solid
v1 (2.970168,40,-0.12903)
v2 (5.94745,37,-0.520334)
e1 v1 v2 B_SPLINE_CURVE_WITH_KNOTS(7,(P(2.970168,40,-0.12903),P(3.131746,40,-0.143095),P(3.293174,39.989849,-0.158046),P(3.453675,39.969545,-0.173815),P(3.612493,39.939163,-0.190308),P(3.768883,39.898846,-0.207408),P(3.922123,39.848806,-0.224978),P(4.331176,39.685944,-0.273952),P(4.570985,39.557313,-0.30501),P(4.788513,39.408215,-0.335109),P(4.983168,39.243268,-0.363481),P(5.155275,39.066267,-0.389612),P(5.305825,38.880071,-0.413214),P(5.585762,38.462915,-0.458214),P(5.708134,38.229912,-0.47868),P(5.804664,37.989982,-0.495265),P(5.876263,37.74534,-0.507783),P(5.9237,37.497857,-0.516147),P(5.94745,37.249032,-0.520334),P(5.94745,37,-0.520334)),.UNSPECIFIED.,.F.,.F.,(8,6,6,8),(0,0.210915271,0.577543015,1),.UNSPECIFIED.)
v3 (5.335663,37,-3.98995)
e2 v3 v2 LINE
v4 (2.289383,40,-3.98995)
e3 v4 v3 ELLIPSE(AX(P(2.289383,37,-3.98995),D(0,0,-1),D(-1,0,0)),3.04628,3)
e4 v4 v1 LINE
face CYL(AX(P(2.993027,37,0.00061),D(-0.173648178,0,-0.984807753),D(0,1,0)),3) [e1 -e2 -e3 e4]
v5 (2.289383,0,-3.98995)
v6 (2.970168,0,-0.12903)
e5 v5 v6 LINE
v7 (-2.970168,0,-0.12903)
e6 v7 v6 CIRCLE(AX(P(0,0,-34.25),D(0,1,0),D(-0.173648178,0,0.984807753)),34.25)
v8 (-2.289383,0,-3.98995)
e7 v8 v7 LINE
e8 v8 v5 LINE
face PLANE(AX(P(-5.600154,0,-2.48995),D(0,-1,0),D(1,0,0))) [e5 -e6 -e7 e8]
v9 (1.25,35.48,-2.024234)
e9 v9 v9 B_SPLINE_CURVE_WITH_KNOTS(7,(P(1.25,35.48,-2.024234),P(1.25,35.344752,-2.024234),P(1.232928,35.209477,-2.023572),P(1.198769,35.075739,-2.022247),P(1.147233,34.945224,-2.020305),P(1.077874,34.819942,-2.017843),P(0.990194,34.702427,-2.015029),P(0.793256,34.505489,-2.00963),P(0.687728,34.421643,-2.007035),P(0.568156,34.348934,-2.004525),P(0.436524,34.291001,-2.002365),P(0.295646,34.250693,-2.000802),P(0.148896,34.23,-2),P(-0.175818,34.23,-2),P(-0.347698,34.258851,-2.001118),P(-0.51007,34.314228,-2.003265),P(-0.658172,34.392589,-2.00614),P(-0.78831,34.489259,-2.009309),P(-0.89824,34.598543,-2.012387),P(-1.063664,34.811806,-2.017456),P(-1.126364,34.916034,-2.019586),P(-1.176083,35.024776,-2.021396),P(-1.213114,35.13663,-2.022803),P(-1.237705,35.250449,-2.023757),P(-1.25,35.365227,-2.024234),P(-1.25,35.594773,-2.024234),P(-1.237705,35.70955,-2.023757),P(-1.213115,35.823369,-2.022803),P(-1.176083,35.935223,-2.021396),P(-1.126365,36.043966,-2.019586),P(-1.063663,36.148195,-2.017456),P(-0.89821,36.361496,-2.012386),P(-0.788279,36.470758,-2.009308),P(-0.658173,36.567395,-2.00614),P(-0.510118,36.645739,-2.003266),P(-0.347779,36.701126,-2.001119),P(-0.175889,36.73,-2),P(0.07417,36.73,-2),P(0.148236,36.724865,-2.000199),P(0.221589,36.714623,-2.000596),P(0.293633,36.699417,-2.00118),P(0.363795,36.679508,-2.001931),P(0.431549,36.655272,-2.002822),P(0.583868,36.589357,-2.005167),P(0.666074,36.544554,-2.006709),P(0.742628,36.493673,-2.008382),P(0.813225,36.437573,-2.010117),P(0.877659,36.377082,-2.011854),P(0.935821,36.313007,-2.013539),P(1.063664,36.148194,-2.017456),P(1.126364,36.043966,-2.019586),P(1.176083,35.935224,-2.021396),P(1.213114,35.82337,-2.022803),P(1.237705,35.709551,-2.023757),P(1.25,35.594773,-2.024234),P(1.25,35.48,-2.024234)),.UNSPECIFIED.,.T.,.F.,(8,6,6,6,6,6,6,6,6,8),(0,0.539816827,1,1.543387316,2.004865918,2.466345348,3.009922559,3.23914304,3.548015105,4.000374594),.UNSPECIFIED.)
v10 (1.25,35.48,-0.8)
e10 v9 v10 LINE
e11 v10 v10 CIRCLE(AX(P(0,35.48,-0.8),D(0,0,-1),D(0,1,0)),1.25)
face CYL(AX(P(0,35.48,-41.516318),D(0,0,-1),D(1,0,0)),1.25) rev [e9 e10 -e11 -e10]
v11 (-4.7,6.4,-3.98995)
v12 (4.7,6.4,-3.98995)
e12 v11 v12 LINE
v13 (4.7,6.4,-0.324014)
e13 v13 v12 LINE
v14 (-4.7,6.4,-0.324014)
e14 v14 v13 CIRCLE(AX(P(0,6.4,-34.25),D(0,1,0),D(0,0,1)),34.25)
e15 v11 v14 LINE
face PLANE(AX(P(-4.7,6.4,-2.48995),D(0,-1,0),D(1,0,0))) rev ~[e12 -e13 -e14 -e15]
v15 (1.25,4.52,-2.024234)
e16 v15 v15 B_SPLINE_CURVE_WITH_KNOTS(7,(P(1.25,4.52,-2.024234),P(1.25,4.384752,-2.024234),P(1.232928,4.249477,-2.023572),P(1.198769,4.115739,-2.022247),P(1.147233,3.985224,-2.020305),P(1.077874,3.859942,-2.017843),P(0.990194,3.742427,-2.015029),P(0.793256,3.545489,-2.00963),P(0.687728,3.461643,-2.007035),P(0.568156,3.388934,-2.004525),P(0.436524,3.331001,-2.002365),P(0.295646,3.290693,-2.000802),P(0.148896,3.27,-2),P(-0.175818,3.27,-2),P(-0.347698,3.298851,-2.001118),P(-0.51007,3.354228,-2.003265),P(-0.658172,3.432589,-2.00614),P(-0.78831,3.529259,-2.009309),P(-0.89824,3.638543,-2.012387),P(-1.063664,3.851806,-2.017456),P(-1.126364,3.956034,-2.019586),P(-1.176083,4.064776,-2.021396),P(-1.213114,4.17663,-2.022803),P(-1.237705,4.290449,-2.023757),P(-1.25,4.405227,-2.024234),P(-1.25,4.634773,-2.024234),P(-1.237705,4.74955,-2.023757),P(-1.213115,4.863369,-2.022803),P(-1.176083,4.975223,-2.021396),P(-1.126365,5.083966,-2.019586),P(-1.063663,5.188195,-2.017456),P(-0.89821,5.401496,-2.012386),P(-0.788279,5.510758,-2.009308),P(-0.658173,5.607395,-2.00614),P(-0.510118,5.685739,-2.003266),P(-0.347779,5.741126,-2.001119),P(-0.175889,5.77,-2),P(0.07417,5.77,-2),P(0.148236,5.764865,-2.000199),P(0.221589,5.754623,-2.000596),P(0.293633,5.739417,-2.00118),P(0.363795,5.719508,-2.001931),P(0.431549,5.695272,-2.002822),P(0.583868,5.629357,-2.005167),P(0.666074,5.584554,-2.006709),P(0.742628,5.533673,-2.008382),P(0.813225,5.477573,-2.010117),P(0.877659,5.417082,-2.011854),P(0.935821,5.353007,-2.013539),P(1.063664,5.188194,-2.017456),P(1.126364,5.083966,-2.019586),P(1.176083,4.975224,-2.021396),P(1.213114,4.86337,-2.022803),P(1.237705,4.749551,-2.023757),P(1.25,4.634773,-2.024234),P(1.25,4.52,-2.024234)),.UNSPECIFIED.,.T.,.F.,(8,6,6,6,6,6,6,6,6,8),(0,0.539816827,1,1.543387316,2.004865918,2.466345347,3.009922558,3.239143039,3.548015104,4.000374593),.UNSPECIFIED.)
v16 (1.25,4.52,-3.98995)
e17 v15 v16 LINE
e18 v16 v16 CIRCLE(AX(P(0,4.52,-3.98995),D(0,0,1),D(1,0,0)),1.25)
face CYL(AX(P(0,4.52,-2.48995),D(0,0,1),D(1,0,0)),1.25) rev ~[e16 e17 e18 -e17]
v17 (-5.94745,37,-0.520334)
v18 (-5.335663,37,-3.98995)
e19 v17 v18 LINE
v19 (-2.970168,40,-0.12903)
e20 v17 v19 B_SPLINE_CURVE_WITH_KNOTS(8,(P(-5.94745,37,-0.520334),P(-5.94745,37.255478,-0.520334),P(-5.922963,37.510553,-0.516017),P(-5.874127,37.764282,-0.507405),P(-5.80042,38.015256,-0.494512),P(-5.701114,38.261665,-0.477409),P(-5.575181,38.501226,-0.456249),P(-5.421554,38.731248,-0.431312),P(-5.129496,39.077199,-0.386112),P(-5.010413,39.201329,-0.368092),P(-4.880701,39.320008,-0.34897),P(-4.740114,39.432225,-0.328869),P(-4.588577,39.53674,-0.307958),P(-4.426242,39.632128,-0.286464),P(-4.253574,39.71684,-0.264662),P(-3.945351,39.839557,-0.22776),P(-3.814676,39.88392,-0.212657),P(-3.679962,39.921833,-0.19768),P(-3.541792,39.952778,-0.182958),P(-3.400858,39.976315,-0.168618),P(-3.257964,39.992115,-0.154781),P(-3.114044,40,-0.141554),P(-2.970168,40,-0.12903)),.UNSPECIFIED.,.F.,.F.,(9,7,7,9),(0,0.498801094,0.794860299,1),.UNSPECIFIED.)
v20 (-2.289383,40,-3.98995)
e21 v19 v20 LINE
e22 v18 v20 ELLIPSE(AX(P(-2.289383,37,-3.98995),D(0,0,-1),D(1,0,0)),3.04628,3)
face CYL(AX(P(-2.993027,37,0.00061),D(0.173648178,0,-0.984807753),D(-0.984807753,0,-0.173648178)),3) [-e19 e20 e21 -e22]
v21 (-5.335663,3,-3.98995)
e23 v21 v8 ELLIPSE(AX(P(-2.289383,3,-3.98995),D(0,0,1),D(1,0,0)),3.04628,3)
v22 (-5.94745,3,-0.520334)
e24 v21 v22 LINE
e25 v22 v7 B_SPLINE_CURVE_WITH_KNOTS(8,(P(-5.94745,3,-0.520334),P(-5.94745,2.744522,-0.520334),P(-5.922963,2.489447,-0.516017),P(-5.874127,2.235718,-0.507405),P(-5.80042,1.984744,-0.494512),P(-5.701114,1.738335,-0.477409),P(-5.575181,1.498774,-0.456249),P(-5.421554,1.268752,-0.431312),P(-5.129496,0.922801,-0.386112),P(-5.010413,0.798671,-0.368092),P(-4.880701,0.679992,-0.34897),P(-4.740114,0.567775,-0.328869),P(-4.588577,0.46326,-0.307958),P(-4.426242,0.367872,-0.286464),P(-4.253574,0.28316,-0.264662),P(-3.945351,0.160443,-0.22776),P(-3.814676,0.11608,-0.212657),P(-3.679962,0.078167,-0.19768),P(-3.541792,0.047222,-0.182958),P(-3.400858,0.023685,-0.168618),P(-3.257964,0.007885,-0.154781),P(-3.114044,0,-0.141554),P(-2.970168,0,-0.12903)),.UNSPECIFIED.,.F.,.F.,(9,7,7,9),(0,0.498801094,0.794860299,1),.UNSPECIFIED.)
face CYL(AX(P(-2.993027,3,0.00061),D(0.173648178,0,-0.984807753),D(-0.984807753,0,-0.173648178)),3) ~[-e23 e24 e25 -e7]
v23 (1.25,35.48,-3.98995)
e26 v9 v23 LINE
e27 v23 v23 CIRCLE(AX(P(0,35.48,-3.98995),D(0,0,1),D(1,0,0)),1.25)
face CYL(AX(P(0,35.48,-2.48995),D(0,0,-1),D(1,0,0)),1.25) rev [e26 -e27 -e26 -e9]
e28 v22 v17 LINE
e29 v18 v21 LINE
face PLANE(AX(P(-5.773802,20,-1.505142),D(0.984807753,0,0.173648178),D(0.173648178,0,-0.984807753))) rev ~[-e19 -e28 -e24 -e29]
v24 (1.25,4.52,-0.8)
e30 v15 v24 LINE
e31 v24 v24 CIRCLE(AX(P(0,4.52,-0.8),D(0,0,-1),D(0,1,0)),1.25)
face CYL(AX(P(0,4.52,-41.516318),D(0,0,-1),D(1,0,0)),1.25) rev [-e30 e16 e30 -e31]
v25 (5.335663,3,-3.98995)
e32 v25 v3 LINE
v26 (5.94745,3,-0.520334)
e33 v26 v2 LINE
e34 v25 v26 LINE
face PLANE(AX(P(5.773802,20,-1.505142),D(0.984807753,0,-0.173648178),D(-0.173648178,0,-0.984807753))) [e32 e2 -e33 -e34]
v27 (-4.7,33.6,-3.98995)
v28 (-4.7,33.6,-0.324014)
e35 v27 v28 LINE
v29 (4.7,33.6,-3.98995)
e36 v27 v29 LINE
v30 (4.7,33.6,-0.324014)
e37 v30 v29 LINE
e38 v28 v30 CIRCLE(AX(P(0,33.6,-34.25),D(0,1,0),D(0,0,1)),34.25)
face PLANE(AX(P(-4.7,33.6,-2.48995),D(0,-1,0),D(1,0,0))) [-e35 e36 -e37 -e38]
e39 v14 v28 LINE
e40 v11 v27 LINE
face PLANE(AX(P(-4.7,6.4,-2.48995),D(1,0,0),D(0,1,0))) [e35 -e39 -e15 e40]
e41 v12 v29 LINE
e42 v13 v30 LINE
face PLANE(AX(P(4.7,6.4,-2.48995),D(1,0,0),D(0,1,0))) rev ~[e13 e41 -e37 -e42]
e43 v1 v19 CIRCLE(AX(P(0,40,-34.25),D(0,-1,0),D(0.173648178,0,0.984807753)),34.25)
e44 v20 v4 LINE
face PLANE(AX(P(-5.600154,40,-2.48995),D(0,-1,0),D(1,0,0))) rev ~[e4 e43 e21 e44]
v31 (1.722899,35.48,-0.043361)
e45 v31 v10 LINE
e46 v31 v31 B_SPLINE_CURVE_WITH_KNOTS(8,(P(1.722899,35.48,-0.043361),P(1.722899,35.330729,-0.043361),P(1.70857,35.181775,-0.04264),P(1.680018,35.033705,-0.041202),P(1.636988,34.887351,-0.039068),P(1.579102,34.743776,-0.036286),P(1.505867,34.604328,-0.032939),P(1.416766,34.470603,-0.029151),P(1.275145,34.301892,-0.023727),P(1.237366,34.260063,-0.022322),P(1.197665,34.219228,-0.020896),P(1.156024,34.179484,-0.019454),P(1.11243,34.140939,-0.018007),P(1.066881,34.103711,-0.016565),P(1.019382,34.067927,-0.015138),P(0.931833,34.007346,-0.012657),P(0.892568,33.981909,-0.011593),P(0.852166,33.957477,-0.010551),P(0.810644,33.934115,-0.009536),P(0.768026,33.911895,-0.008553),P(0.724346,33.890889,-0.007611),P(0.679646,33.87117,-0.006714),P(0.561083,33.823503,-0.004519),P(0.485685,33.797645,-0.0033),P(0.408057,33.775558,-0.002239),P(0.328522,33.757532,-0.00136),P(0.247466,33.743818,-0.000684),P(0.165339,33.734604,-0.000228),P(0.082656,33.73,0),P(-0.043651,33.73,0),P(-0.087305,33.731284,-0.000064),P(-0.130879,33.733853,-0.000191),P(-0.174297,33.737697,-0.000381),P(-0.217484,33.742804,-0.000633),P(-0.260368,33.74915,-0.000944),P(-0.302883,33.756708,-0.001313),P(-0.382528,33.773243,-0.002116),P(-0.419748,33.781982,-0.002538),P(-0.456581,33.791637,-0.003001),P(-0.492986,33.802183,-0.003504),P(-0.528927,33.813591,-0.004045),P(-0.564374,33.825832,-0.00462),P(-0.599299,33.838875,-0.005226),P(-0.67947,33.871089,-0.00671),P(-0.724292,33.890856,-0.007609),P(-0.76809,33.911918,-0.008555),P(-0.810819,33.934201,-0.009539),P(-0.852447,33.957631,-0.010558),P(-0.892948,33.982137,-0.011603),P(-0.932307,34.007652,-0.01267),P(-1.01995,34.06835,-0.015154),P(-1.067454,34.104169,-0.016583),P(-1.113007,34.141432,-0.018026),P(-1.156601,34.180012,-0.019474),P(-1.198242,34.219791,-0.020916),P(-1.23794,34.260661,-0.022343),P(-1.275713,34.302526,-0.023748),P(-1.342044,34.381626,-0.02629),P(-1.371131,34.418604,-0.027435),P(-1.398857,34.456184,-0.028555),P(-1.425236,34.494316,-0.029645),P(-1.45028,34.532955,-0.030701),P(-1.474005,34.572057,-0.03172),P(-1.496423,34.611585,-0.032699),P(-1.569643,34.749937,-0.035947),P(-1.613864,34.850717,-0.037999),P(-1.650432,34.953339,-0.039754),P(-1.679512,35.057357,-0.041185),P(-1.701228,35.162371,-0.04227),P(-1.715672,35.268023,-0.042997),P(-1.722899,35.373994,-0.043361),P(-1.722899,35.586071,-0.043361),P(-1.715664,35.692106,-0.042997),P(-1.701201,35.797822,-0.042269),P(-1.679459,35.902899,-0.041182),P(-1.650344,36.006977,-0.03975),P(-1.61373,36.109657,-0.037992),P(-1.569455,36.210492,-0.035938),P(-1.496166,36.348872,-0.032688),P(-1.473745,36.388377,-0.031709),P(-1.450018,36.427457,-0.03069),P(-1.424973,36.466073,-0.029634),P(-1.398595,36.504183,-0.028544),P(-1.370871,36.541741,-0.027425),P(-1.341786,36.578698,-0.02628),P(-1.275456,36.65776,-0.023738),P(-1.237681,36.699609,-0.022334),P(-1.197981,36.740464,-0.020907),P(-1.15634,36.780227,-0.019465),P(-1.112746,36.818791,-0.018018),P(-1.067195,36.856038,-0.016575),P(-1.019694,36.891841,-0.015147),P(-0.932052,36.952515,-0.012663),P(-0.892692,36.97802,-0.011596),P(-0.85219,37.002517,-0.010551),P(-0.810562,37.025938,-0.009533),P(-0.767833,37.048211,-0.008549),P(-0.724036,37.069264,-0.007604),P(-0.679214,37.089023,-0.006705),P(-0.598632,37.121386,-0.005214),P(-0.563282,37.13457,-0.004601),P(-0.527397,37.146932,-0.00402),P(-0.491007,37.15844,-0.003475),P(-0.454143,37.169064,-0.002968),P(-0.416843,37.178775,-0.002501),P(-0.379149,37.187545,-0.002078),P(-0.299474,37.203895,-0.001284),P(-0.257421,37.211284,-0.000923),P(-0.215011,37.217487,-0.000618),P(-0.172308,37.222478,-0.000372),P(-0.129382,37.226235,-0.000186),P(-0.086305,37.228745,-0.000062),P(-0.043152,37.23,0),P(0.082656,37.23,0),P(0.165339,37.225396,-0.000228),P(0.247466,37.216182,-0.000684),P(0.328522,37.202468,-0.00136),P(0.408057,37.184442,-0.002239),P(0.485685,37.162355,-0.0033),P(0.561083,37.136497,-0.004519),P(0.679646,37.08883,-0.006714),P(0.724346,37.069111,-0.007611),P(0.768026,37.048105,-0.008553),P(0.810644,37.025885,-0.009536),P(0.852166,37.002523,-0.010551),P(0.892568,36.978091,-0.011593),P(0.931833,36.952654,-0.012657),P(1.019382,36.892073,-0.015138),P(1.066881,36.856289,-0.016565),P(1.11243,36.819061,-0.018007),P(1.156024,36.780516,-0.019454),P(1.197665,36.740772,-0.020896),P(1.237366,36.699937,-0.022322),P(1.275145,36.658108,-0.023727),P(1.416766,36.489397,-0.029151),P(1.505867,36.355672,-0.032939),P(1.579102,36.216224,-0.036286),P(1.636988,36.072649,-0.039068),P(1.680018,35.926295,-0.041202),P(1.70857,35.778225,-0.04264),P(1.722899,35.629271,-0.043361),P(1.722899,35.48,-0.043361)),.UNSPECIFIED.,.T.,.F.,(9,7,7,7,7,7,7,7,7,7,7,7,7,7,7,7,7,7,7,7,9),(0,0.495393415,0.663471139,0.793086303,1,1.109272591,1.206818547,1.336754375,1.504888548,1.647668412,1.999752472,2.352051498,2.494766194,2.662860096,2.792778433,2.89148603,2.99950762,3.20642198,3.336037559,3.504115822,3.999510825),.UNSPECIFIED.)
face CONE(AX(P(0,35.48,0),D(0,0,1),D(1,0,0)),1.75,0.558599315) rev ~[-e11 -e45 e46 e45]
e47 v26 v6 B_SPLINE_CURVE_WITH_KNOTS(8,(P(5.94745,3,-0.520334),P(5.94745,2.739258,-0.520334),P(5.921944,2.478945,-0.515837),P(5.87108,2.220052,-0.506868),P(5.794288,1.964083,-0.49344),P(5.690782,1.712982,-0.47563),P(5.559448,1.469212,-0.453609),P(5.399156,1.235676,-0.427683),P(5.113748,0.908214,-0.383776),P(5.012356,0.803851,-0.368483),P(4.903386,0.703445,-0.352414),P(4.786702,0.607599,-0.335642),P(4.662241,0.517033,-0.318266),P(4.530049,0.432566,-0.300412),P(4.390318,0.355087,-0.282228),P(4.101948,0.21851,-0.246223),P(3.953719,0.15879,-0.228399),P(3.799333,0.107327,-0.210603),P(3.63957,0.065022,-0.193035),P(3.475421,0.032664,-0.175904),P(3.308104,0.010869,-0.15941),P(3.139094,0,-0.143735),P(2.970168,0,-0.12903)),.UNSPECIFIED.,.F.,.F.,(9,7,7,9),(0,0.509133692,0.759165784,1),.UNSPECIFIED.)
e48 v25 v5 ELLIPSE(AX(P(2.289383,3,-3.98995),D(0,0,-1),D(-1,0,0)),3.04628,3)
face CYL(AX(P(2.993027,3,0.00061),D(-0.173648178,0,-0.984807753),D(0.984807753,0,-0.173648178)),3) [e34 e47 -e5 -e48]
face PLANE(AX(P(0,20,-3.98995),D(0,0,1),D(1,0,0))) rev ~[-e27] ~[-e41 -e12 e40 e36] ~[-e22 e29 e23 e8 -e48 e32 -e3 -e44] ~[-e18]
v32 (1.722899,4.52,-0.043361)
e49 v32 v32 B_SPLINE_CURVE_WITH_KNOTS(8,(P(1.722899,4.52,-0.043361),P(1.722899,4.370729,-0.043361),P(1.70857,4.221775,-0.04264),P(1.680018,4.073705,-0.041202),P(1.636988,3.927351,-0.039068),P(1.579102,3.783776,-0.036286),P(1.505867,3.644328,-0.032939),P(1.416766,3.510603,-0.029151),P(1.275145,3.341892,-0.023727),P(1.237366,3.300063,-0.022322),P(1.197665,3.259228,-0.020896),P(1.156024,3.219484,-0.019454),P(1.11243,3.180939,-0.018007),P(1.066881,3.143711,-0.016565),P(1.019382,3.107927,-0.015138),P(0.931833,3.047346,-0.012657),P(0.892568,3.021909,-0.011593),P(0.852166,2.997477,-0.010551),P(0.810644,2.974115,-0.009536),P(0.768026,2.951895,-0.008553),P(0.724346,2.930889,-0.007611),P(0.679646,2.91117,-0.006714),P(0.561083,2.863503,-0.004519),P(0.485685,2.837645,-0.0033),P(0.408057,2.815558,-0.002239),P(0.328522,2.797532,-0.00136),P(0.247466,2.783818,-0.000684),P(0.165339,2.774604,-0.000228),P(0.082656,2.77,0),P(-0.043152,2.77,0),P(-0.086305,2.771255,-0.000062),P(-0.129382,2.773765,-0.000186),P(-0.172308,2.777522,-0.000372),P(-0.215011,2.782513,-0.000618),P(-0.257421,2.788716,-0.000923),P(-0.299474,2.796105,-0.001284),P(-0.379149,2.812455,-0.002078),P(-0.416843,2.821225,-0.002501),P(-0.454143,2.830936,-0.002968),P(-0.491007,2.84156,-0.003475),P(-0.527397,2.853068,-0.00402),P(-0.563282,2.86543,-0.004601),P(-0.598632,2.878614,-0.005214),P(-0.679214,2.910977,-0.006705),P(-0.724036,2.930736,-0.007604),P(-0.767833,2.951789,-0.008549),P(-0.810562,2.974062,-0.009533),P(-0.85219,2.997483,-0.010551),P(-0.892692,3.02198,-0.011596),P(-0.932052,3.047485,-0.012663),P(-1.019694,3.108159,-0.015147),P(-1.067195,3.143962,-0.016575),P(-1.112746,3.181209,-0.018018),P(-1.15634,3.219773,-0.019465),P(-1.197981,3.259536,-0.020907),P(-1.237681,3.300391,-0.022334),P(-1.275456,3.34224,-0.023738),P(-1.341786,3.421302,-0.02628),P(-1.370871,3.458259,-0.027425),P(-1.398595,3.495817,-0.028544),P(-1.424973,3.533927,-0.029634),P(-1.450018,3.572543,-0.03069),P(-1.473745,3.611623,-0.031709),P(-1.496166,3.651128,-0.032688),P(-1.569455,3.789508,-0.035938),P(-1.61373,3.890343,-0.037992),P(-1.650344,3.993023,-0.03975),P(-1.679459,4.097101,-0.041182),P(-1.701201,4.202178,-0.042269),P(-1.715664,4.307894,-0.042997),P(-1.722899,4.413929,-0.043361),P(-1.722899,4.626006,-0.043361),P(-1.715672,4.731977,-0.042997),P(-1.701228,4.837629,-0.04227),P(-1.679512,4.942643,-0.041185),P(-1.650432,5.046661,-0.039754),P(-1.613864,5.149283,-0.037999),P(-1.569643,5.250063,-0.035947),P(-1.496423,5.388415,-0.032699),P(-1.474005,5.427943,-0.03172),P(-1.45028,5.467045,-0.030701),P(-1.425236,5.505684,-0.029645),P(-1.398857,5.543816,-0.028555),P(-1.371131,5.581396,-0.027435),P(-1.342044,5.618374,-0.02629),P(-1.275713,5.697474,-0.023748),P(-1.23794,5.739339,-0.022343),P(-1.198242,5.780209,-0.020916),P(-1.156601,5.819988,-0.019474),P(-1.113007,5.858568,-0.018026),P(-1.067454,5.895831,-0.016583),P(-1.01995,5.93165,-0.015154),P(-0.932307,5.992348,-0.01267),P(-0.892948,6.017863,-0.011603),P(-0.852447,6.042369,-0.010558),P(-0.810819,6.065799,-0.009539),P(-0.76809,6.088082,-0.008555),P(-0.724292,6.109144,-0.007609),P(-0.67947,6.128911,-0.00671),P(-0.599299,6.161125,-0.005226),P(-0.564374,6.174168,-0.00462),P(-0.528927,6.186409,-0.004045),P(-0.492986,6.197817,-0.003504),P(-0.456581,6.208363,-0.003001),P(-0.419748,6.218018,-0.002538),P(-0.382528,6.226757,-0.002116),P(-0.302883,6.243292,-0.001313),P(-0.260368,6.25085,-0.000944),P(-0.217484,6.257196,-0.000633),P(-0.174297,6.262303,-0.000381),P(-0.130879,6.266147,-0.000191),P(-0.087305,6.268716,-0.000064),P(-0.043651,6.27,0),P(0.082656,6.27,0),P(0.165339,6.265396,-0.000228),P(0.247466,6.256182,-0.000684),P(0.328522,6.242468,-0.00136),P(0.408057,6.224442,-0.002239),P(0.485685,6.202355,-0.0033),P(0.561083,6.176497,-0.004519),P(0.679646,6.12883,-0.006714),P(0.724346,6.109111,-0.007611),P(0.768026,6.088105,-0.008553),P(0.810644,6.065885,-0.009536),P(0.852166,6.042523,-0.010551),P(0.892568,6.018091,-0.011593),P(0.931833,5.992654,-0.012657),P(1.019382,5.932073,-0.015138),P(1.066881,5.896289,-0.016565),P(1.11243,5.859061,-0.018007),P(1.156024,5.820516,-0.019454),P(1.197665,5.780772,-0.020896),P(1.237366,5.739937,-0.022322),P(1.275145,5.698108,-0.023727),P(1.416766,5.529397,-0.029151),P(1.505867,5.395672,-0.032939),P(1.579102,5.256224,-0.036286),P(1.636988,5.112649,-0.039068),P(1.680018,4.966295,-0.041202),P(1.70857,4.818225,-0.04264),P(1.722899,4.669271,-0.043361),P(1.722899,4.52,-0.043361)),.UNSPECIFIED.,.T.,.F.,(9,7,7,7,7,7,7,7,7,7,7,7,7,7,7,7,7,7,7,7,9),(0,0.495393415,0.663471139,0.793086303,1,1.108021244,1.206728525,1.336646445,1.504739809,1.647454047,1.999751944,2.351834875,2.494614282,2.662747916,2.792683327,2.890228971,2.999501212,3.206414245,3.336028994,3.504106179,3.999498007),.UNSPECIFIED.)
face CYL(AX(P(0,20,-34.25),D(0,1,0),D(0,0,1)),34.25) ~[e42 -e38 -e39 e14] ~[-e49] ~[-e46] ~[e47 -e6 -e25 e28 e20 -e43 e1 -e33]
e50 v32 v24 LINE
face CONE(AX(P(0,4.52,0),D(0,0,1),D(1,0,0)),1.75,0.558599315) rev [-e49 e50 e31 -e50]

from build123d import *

# Parameters (mm, degrees)
SKETCH1_W                         = 2
SKETCH1_H                         = 40
BULK_EXTRUDE_ANGLE                = 20
CONNECTOR_PASSTHRU_DEPTH          = 41.516317865
CONNECTOR_PASSTHRU_DEPTH_BACK     = 41.516317865
SKETCH2_R                         = 1.25
SKETCH2_W                         = 9.4
SKETCH2_H                         = 27.2
REAR_FLATTENING_REACH             = 42.516
SKETCH3_W                         = 11.20030746
SKETCH3_H                         = 40
SKETCH3_R                         = 1.25
SKETCH3_W_2                       = 9.4
SKETCH3_H_2                       = 27.2
REAR_FLATTENING_DIRECTION_2_DEPTH = 1.5
SKETCH4_W                         = 5.422124609
SKETCH4_H                         = 40
CUT_EXTRUDE2_DEPTH                = 42.810193065
SKETCH5_W                         = 5.376196321
SKETCH5_H                         = 40
CUT_EXTRUDE3_DEPTH                = 42.810193065
FILLET1_R                         = 3


with BuildPart() as part:
    # Sketch1 → BULK EXTRUDE (revolve, symmetric)
    with BuildSketch(Plane(origin=(0, 0, 0), x_dir=(0, 0, -1), z_dir=(1, 0, 0))) as bulk_extrude_sk:
        with Locations((1, 20)):
            Rectangle(SKETCH1_W, SKETCH1_H)
    revolve(axis=Axis((0, 0, -34.25), (0, 1, 0)), revolution_arc=BULK_EXTRUDE_ANGLE / 2)
    revolve(bulk_extrude_sk.sketch, axis=Axis((0, 0, -34.25), (0, -1, 0)), revolution_arc=BULK_EXTRUDE_ANGLE / 2)

    # Sketch2 → CONNECTOR PASSTHRU (cut, two sides: drawn at the far end of the back side and taken through both)
    with BuildSketch(Plane.XY.offset(-CONNECTOR_PASSTHRU_DEPTH_BACK)):
        with Locations((0, 4.52)):
            Circle(SKETCH2_R)
        with Locations((0, 35.48)):
            Circle(SKETCH2_R)
        with Locations((0, 20)):
            Rectangle(SKETCH2_W, SKETCH2_H)
    extrude(amount=CONNECTOR_PASSTHRU_DEPTH + CONNECTOR_PASSTHRU_DEPTH_BACK, mode=Mode.SUBTRACT)

    # Sketch3 → REAR FLATTENING (add, up to next)
    with BuildSketch(Plane.XY.offset(-2.489949965), mode=Mode.PRIVATE) as rear_flattening_sk1:
        with Locations((0, 20)):
            Rectangle(SKETCH3_W, SKETCH3_H)
        with Locations((0, 4.52)):
            Circle(SKETCH3_R, mode=Mode.SUBTRACT)
        with Locations((0, 35.48)):
            Circle(SKETCH3_R, mode=Mode.SUBTRACT)
        with Locations((0, 20)):
            Rectangle(SKETCH3_W_2, SKETCH3_H_2, mode=Mode.SUBTRACT)
    rear_flattening_tool1 = extrude(rear_flattening_sk1.sketch, amount=REAR_FLATTENING_REACH, mode=Mode.PRIVATE) - part.part
    add(rear_flattening_tool1.solids().sort_by_distance((0, 0.415385, -2.48995))[0])

    # Sketch3 → REAR FLATTENING direction 2 (add)
    with BuildSketch(Plane.XY.offset(-2.489949965)):
        with Locations((0, 20)):
            Rectangle(SKETCH3_W, SKETCH3_H)
        with Locations((0, 4.52)):
            Circle(SKETCH3_R, mode=Mode.SUBTRACT)
        with Locations((0, 35.48)):
            Circle(SKETCH3_R, mode=Mode.SUBTRACT)
        with Locations((0, 20)):
            Rectangle(SKETCH3_W_2, SKETCH3_H_2, mode=Mode.SUBTRACT)
    extrude(amount=-REAR_FLATTENING_DIRECTION_2_DEPTH)

    # Sketch4 → Cut-Extrude2 (cut, through all)
    with BuildSketch(Plane(origin=(5.857094954, 0, -1.032763869), x_dir=(-0.17364817766693075, 0, -0.9848077530122081), z_dir=(0.9848077530122081, 0, -0.17364817766693075))):
        with Locations((2.190727846, 20)):
            Rectangle(SKETCH4_W, SKETCH4_H)
    extrude(amount=CUT_EXTRUDE2_DEPTH, mode=Mode.SUBTRACT)

    # Sketch5 → Cut-Extrude3 (cut, through all)
    with BuildSketch(Plane(origin=(-5.857094954, 0, -1.032763869), x_dir=(-0.17364817766693072, 0, 0.9848077530122081), z_dir=(-0.9848077530122081, 0, -0.17364817766693072))):
        with Locations((-2.167763702, 20)):
            Rectangle(SKETCH5_W, SKETCH5_H)
    extrude(amount=CUT_EXTRUDE3_DEPTH, mode=Mode.SUBTRACT)

    # Fillet1
    fillet1_edges = [part.edges().sort_by_distance(p)[0] for p in [
        (5.641556672, 40, -2.255142212),
        (5.641556672, 0, -2.255142212),
        (-5.641556672, 0, -2.255142212),
        (-5.641556672, 40, -2.255142212),
    ]]
    fillet(fillet1_edges, radius=FILLET1_R)

    # Sketch6 → Cut-Revolve1 (revolve, cut)
    with BuildSketch(Plane.ZY):
        Polygon((0, 4.52), (0, 6.27), (-1, 5.645), (-1, 4.52), align=None)
    cut_revolve1 = revolve(axis=Axis((0, 4.52, -3.989949965), (0, 0, 1)), mode=Mode.SUBTRACT)

    # Mirror1: Cut-Revolve1 across plane
    add(cut_revolve1.mirror(Plane.ZX.offset(20)), mode=Mode.SUBTRACT)


solid = part.part
